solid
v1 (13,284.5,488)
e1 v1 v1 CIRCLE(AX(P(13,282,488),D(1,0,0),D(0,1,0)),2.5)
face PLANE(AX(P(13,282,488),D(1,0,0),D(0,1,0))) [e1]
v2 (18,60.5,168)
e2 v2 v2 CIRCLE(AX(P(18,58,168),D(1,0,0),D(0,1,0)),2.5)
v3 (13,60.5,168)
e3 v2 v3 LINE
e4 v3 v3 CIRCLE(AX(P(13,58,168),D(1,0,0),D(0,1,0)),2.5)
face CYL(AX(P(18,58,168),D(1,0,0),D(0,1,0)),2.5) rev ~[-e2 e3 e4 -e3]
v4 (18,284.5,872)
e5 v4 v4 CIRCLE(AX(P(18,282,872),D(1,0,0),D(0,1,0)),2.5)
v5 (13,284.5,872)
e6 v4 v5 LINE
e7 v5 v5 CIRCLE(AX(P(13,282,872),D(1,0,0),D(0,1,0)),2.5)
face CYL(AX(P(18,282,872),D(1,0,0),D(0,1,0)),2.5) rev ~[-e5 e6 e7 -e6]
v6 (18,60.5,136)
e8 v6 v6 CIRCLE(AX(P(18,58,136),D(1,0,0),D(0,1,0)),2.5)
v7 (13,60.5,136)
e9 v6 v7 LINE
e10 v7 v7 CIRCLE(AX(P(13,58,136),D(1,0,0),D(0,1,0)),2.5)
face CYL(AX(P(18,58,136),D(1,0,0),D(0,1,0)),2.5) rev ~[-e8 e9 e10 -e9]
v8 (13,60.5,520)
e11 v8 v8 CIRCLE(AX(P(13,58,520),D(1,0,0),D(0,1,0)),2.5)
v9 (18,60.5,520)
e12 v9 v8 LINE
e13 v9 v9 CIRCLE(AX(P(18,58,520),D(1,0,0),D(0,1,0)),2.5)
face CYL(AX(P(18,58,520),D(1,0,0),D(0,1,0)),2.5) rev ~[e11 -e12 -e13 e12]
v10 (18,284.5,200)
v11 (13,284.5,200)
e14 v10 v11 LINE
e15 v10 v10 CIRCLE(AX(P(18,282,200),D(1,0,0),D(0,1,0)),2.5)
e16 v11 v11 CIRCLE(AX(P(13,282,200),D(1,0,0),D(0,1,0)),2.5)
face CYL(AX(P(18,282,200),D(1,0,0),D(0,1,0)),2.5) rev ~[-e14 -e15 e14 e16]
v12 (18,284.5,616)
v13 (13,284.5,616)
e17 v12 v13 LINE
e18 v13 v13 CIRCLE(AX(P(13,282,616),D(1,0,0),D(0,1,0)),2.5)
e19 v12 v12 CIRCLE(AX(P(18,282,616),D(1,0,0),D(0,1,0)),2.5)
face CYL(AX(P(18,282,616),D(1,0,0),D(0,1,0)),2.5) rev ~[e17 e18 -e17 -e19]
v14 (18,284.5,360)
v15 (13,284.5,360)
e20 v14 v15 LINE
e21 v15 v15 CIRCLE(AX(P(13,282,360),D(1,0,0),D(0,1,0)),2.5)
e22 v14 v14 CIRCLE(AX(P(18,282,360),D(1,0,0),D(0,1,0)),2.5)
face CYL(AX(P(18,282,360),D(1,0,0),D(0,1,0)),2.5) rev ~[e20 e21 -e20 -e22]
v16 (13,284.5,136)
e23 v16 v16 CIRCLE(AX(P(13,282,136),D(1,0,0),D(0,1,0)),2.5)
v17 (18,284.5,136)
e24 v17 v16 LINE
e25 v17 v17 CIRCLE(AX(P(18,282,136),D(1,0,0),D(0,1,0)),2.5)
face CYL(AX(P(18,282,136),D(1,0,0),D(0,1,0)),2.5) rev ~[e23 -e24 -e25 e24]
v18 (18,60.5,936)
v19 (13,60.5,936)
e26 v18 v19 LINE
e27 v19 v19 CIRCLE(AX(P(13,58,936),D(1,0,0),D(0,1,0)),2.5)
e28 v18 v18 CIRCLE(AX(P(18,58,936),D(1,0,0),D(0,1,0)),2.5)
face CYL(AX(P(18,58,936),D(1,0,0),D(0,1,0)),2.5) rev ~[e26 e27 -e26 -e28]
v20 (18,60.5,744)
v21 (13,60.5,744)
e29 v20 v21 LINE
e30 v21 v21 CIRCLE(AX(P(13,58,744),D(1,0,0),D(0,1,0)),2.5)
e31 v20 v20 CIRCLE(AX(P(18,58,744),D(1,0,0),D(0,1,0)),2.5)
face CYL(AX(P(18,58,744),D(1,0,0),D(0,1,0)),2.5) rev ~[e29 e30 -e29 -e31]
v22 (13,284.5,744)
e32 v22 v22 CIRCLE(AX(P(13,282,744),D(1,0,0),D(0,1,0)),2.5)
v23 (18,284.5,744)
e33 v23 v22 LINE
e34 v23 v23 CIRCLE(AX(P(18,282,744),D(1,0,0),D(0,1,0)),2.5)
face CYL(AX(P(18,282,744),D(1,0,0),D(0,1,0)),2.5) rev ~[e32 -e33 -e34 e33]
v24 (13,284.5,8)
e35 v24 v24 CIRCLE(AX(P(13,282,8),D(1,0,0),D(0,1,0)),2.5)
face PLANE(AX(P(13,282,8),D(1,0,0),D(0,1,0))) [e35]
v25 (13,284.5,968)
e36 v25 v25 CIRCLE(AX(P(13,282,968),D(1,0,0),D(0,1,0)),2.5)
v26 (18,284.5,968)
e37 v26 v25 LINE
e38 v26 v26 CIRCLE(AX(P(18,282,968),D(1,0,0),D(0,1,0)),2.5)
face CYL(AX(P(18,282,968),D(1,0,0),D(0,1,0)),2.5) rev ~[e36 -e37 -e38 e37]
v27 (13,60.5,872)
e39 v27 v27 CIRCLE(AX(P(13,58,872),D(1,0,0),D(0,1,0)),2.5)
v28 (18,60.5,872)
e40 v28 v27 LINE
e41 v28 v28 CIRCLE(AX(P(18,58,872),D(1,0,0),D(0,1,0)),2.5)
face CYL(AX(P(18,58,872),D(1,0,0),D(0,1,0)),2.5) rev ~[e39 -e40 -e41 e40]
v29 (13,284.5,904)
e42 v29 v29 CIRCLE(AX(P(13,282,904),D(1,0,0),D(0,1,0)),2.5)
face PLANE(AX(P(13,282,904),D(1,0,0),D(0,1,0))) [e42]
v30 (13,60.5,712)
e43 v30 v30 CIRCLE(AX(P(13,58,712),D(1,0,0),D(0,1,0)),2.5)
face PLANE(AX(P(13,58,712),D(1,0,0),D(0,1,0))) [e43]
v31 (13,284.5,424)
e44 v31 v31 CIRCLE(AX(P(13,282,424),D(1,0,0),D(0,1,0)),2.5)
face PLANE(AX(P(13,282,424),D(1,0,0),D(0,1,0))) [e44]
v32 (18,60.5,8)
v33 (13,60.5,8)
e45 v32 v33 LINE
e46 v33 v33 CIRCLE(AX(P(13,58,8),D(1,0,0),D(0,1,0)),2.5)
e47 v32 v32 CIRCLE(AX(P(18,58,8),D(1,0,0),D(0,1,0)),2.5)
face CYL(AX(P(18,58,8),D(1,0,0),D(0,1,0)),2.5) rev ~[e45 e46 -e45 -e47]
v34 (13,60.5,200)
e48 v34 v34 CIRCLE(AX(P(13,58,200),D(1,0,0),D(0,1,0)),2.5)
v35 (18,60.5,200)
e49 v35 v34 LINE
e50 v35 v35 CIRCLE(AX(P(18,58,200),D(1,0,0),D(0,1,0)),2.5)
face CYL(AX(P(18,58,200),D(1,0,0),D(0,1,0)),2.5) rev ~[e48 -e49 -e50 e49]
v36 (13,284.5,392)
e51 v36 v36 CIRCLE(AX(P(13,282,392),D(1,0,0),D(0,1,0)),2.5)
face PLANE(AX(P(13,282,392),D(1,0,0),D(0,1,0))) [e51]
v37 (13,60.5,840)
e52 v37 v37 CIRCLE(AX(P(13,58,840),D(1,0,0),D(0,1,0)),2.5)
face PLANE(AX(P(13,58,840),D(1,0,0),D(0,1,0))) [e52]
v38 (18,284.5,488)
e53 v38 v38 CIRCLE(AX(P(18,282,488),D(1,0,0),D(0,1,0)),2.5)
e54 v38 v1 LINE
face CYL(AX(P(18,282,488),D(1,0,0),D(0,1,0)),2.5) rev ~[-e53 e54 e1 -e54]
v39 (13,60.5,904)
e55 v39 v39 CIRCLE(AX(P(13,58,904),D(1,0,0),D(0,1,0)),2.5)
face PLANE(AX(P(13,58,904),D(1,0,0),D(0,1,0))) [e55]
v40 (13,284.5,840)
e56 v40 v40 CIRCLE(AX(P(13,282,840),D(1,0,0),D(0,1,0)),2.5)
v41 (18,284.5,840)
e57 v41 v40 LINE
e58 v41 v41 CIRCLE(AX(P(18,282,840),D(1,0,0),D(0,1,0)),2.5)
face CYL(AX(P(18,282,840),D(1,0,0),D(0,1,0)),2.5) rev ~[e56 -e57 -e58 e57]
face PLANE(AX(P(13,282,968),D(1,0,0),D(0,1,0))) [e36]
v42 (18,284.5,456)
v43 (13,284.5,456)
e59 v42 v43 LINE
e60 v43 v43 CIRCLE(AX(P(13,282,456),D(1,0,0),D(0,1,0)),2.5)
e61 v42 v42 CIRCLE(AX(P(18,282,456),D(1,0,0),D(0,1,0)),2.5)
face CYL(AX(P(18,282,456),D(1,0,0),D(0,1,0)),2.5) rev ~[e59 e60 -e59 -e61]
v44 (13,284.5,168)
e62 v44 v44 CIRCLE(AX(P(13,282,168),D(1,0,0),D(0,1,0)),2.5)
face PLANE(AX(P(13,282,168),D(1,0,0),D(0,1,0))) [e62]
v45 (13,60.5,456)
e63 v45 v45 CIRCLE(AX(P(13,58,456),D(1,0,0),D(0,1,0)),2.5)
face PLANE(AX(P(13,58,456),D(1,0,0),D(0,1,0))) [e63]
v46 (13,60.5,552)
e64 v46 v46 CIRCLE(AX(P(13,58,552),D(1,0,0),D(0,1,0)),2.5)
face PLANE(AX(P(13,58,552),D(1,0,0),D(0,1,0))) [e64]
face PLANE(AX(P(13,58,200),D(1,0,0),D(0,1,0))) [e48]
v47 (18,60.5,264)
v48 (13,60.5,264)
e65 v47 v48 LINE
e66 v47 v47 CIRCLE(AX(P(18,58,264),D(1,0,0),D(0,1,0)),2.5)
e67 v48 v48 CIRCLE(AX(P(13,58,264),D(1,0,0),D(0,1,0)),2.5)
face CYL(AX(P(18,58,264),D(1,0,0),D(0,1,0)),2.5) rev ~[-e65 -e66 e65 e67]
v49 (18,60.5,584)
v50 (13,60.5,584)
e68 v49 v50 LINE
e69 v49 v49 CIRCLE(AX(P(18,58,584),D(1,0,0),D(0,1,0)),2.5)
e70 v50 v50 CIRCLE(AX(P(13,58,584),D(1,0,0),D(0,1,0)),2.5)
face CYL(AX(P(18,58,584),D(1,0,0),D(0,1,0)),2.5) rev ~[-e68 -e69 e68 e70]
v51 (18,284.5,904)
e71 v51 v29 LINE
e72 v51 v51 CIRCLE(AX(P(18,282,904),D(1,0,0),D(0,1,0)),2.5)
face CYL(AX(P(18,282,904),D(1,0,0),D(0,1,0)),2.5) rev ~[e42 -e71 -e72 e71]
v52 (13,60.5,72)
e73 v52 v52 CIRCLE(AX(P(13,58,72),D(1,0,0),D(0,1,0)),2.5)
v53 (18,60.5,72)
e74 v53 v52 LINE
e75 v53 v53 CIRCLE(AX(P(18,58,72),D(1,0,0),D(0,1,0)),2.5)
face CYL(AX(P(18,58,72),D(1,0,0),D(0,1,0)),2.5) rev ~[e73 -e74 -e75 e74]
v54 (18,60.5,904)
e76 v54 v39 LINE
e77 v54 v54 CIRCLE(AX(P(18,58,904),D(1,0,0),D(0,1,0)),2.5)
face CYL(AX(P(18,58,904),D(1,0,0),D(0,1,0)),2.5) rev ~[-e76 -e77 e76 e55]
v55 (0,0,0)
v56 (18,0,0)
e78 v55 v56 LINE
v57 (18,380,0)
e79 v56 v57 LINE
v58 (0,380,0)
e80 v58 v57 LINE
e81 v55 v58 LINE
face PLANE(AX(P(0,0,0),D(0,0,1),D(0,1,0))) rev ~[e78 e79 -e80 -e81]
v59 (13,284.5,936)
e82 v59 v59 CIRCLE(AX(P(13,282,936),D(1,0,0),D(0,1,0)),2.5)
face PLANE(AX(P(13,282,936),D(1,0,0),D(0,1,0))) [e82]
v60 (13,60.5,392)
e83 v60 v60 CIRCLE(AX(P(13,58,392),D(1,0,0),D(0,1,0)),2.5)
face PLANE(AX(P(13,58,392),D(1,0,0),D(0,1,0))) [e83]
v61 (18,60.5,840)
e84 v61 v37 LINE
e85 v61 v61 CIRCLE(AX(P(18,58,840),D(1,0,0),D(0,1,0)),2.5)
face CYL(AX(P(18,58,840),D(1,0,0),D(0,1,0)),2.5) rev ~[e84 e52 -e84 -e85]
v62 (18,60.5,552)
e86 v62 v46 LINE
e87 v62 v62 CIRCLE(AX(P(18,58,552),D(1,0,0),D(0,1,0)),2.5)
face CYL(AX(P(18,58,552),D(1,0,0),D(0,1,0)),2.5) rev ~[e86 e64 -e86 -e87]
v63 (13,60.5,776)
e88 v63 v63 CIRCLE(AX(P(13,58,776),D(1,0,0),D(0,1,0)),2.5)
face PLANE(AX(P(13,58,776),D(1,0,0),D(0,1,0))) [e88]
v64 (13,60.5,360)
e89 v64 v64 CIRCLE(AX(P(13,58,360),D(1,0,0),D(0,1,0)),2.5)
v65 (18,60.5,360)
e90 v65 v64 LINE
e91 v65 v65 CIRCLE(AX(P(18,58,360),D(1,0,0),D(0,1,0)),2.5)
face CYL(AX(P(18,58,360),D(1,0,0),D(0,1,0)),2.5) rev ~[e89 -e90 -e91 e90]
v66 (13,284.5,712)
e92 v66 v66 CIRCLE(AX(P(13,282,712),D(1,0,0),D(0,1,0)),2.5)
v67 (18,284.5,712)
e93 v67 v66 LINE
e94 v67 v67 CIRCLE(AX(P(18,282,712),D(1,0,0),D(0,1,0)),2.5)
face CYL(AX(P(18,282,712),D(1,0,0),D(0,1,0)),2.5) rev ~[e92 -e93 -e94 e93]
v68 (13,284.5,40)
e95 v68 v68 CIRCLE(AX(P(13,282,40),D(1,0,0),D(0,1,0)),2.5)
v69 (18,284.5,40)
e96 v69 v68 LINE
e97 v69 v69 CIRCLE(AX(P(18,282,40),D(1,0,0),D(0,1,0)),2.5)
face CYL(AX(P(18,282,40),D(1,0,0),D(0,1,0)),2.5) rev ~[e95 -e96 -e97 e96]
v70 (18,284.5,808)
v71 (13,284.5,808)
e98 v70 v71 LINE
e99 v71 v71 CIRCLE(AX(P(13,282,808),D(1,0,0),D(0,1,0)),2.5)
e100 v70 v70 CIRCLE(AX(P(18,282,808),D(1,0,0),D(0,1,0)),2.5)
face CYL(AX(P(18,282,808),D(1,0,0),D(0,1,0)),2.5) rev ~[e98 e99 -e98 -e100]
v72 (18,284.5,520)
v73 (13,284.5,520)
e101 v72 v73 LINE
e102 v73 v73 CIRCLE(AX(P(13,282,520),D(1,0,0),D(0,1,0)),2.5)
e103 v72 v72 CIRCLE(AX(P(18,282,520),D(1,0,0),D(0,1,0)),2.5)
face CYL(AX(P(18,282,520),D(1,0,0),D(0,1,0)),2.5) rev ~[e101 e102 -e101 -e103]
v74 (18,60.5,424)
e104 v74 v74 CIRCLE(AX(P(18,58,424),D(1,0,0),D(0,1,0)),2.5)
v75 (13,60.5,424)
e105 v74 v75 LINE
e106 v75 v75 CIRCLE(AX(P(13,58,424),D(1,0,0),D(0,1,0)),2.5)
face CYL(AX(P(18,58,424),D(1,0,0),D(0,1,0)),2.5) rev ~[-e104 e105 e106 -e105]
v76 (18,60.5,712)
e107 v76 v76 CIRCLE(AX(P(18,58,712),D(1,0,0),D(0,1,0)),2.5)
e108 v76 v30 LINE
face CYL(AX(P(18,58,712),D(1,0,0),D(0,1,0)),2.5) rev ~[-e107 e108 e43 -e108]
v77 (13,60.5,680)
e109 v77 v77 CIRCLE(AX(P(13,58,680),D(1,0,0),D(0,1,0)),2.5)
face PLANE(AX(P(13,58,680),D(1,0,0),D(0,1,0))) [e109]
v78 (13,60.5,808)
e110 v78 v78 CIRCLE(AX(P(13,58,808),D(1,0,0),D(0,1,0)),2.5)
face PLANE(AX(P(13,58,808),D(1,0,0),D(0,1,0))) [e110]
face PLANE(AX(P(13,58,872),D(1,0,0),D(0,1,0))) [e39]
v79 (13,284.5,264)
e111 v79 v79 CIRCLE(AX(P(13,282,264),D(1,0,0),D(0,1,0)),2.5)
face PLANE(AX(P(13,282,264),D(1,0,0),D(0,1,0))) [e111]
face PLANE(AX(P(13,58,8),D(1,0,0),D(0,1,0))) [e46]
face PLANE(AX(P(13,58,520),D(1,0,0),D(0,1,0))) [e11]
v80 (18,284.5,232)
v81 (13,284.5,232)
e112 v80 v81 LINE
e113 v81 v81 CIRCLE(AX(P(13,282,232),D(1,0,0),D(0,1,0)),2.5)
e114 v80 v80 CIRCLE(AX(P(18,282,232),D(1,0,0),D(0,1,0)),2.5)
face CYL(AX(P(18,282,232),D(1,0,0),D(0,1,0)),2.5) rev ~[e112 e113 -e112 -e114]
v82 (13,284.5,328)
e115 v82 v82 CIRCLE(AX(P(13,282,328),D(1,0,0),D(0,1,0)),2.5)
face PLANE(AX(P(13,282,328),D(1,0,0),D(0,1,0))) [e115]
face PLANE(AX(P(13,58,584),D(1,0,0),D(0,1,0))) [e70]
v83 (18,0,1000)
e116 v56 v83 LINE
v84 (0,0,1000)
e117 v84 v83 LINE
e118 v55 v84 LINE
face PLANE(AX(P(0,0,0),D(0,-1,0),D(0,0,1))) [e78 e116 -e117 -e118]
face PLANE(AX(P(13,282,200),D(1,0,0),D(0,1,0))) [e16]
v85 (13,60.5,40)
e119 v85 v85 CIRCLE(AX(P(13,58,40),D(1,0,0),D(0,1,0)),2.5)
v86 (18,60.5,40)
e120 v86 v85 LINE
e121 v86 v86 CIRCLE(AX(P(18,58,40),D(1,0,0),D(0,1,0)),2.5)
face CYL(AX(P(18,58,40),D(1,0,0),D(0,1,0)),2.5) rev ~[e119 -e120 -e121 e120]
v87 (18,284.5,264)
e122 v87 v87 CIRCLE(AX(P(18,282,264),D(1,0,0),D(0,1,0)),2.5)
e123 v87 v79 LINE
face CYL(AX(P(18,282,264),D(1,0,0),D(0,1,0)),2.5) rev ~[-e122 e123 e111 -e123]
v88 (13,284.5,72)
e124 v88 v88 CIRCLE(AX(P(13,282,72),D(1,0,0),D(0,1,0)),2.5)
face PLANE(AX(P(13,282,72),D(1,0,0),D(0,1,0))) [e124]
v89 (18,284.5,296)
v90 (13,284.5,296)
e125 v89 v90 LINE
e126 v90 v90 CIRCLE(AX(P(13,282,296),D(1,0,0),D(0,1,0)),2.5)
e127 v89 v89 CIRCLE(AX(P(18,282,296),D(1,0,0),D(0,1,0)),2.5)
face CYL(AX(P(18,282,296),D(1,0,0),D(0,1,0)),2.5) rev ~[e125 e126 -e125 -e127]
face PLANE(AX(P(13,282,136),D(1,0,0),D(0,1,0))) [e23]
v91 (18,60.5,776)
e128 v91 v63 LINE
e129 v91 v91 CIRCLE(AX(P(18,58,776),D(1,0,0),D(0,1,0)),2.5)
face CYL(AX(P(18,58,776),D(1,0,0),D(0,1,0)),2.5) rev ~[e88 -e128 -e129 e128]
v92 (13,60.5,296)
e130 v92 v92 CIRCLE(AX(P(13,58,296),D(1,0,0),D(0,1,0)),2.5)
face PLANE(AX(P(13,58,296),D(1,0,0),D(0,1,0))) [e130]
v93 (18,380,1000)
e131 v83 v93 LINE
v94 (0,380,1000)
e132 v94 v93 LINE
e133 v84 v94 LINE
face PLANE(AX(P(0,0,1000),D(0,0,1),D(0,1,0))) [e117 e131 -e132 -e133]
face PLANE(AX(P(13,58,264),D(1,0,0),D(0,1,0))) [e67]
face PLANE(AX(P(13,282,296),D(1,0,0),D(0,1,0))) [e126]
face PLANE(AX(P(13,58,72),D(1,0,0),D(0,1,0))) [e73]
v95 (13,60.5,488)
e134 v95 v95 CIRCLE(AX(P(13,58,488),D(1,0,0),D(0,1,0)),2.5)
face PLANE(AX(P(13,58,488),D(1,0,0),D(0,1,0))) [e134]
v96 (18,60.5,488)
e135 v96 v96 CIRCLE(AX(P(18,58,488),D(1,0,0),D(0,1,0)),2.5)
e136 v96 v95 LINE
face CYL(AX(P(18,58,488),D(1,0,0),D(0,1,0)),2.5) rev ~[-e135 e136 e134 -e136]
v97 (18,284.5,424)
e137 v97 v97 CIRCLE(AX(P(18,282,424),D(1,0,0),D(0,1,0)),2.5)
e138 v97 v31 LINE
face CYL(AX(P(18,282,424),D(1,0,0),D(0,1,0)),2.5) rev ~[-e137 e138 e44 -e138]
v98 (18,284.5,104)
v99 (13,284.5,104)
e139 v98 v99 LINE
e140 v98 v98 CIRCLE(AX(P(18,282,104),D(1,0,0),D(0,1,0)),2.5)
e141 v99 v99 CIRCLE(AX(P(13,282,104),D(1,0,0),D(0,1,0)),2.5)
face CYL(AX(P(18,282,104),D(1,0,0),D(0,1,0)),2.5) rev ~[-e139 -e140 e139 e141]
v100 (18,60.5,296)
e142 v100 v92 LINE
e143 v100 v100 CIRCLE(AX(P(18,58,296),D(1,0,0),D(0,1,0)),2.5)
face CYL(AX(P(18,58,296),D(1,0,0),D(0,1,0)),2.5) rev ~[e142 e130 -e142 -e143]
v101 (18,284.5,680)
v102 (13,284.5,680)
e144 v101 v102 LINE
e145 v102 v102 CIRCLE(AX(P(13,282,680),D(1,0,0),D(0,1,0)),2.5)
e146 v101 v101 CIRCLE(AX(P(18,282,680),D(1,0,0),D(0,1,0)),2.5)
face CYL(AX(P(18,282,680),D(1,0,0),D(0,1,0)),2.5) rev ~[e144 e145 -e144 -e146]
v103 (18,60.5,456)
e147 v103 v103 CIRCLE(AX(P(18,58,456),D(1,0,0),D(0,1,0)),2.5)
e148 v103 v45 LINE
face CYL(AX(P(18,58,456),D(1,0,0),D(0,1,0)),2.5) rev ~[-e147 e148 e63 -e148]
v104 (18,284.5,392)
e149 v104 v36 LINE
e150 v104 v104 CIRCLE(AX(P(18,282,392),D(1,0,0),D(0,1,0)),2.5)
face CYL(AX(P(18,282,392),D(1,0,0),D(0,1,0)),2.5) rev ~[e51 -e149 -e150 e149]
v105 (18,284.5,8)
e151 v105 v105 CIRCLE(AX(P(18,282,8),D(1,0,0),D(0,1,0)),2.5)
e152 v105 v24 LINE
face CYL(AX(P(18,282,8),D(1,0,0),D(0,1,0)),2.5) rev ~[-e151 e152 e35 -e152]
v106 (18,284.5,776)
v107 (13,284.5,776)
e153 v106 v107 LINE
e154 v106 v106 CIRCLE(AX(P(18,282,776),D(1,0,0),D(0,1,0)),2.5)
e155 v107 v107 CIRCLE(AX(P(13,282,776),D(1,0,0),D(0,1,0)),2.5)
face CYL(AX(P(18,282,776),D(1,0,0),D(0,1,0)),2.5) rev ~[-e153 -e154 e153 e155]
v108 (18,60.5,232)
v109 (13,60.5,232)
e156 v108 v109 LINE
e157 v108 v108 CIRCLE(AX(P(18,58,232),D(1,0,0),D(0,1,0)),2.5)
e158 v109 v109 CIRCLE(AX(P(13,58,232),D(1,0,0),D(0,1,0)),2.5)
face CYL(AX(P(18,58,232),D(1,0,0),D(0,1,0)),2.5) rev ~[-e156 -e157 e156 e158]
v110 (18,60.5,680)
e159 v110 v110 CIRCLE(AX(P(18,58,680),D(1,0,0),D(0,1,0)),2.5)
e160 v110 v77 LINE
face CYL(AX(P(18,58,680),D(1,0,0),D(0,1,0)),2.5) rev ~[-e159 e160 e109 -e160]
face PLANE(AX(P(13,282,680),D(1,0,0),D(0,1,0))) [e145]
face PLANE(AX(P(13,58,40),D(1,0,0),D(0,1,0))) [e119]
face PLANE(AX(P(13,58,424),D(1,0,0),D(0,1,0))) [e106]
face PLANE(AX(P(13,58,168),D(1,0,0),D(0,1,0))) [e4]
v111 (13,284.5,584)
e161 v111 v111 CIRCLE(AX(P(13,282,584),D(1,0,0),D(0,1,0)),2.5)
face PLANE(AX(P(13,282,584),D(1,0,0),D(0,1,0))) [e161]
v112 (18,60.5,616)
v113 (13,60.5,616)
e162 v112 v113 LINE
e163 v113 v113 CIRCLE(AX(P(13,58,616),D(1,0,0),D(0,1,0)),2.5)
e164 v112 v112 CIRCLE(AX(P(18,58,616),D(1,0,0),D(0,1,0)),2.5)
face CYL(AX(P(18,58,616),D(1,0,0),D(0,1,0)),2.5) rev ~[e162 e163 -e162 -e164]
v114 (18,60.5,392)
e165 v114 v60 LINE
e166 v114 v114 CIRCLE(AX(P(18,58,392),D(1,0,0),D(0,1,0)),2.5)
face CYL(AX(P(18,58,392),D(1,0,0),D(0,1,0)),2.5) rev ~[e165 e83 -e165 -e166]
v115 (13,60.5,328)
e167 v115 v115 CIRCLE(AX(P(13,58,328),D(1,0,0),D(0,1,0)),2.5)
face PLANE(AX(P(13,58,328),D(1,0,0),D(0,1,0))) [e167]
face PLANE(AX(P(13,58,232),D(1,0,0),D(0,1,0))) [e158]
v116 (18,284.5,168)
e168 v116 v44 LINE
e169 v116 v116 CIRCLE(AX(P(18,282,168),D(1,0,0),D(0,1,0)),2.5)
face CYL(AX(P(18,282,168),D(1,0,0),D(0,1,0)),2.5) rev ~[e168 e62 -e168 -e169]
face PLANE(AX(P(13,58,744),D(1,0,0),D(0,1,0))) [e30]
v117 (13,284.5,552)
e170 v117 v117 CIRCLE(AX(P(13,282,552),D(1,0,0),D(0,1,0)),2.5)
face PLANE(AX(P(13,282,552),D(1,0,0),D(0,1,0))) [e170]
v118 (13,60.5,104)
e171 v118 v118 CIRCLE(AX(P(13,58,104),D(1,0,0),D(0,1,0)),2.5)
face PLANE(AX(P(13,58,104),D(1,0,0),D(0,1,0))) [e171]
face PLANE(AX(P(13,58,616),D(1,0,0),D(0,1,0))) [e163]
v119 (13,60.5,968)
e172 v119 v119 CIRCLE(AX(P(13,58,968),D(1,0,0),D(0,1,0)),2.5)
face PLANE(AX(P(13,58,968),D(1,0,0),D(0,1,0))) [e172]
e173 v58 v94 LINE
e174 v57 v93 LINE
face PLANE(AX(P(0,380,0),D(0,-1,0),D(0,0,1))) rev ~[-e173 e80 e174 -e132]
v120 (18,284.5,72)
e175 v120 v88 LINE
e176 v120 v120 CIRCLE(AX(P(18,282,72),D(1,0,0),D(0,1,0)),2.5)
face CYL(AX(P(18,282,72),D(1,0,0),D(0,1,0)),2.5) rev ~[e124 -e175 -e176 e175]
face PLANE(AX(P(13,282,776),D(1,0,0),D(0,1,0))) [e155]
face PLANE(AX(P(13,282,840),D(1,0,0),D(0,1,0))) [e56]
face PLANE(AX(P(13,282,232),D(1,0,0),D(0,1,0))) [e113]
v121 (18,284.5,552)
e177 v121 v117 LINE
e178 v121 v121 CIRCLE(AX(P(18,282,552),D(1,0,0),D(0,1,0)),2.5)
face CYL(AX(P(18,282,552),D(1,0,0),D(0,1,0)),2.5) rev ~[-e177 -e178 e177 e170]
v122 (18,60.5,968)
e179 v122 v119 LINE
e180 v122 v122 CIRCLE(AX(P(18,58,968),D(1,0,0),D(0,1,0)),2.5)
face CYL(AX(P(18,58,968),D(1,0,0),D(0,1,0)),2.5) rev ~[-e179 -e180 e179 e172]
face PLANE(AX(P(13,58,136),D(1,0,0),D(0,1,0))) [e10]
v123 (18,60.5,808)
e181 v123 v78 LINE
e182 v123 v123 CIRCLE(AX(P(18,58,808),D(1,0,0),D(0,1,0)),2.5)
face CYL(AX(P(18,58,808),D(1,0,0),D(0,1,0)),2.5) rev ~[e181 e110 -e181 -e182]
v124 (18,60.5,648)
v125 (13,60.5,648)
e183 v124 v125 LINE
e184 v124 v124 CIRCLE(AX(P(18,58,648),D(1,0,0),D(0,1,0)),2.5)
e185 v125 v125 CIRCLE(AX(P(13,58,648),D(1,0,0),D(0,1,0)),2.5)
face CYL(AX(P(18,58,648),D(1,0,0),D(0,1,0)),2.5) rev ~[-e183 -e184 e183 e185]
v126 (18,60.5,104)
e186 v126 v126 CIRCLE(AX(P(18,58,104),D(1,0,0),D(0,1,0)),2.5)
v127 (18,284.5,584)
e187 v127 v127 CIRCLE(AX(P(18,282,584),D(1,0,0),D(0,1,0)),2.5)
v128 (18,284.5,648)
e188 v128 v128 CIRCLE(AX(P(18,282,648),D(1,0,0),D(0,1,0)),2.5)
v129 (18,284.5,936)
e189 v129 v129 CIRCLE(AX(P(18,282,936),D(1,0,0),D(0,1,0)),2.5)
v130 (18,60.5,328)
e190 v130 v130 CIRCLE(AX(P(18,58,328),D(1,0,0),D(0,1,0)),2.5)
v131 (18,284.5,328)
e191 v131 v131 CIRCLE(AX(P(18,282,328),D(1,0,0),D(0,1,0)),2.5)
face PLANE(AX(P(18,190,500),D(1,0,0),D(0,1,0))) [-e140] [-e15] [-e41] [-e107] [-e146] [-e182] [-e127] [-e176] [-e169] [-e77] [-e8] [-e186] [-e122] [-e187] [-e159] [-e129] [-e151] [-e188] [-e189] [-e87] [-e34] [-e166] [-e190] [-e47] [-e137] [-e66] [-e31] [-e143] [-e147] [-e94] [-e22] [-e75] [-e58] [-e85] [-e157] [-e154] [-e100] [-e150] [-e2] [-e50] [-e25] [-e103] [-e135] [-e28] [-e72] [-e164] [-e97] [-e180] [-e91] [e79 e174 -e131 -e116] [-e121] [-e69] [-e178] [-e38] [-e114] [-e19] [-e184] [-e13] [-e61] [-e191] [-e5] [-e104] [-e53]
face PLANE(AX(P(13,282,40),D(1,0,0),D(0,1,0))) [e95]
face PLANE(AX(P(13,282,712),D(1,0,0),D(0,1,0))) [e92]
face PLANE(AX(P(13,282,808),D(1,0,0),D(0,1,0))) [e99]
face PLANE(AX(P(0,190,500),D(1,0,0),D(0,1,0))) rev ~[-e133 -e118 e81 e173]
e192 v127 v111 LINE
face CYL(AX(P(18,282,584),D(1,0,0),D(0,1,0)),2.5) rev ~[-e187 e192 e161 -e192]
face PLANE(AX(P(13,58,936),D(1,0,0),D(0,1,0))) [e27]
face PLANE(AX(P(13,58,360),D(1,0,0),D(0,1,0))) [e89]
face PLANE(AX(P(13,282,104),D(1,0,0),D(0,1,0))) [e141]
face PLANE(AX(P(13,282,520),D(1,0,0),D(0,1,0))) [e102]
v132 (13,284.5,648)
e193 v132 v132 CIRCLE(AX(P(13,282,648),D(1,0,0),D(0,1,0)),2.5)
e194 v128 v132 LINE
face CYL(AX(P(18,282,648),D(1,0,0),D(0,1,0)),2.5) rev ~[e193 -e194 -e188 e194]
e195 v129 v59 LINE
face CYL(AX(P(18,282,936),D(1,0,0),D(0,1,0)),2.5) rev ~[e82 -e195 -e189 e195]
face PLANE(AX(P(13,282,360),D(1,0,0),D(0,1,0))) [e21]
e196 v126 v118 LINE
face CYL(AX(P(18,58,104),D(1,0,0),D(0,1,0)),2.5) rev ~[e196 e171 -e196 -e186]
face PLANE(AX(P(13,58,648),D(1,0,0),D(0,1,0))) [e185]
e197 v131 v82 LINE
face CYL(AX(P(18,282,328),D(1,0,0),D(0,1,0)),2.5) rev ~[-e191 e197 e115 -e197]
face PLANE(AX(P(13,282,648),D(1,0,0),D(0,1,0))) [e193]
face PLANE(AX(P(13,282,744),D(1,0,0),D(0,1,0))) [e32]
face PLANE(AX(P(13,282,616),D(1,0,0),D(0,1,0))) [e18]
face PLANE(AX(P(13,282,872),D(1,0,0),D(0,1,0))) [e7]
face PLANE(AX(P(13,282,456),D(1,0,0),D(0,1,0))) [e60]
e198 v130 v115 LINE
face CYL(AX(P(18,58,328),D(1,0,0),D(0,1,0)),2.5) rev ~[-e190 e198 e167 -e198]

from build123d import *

# Parameters (mm, degrees)
F0_W     = 380
F0_H     = 1000
F1_DEPTH = 18
F2_R     = 2.5
F3_DEPTH = 5


with BuildPart() as f1:
    # F0 (on Right) → F1 (new body)
    with BuildSketch(Plane.YZ):
        with Locations((190, 500)):
            Rectangle(F0_W, F0_H)
    extrude(amount=F1_DEPTH)

    # F2 (on face) → F3 (cut)
    with BuildSketch(Plane.YZ.offset(18)):
        with Locations((58, 8)):
            Circle(F2_R)
        with Locations((58, 40)):
            Circle(F2_R)
        with Locations((58, 72)):
            Circle(F2_R)
        with Locations((58, 104)):
            Circle(F2_R)
        with Locations((58, 136)):
            Circle(F2_R)
        with Locations((58, 168)):
            Circle(F2_R)
        with Locations((58, 200)):
            Circle(F2_R)
        with Locations((58, 232)):
            Circle(F2_R)
        with Locations((58, 264)):
            Circle(F2_R)
        with Locations((58, 296)):
            Circle(F2_R)
        with Locations((58, 328)):
            Circle(F2_R)
        with Locations((58, 360)):
            Circle(F2_R)
        with Locations((58, 392)):
            Circle(F2_R)
        with Locations((58, 424)):
            Circle(F2_R)
        with Locations((58, 456)):
            Circle(F2_R)
        with Locations((58, 488)):
            Circle(F2_R)
        with Locations((58, 520)):
            Circle(F2_R)
        with Locations((58, 552)):
            Circle(F2_R)
        with Locations((58, 584)):
            Circle(F2_R)
        with Locations((58, 616)):
            Circle(F2_R)
        with Locations((58, 648)):
            Circle(F2_R)
        with Locations((58, 680)):
            Circle(F2_R)
        with Locations((58, 712)):
            Circle(F2_R)
        with Locations((58, 744)):
            Circle(F2_R)
        with Locations((58, 776)):
            Circle(F2_R)
        with Locations((58, 808)):
            Circle(F2_R)
        with Locations((58, 840)):
            Circle(F2_R)
        with Locations((58, 872)):
            Circle(F2_R)
        with Locations((58, 904)):
            Circle(F2_R)
        with Locations((58, 936)):
            Circle(F2_R)
        with Locations((58, 968)):
            Circle(F2_R)
        with Locations((282, 8)):
            Circle(F2_R)
        with Locations((282, 40)):
            Circle(F2_R)
        with Locations((282, 72)):
            Circle(F2_R)
        with Locations((282, 104)):
            Circle(F2_R)
        with Locations((282, 136)):
            Circle(F2_R)
        with Locations((282, 168)):
            Circle(F2_R)
        with Locations((282, 200)):
            Circle(F2_R)
        with Locations((282, 232)):
            Circle(F2_R)
        with Locations((282, 264)):
            Circle(F2_R)
        with Locations((282, 296)):
            Circle(F2_R)
        with Locations((282, 328)):
            Circle(F2_R)
        with Locations((282, 360)):
            Circle(F2_R)
        with Locations((282, 392)):
            Circle(F2_R)
        with Locations((282, 424)):
            Circle(F2_R)
        with Locations((282, 456)):
            Circle(F2_R)
        with Locations((282, 488)):
            Circle(F2_R)
        with Locations((282, 520)):
            Circle(F2_R)
        with Locations((282, 552)):
            Circle(F2_R)
        with Locations((282, 584)):
            Circle(F2_R)
        with Locations((282, 616)):
            Circle(F2_R)
        with Locations((282, 648)):
            Circle(F2_R)
        with Locations((282, 680)):
            Circle(F2_R)
        with Locations((282, 712)):
            Circle(F2_R)
        with Locations((282, 744)):
            Circle(F2_R)
        with Locations((282, 776)):
            Circle(F2_R)
        with Locations((282, 808)):
            Circle(F2_R)
        with Locations((282, 840)):
            Circle(F2_R)
        with Locations((282, 872)):
            Circle(F2_R)
        with Locations((282, 904)):
            Circle(F2_R)
        with Locations((282, 936)):
            Circle(F2_R)
        with Locations((282, 968)):
            Circle(F2_R)
    extrude(amount=-F3_DEPTH, mode=Mode.SUBTRACT)


solid = f1.part
